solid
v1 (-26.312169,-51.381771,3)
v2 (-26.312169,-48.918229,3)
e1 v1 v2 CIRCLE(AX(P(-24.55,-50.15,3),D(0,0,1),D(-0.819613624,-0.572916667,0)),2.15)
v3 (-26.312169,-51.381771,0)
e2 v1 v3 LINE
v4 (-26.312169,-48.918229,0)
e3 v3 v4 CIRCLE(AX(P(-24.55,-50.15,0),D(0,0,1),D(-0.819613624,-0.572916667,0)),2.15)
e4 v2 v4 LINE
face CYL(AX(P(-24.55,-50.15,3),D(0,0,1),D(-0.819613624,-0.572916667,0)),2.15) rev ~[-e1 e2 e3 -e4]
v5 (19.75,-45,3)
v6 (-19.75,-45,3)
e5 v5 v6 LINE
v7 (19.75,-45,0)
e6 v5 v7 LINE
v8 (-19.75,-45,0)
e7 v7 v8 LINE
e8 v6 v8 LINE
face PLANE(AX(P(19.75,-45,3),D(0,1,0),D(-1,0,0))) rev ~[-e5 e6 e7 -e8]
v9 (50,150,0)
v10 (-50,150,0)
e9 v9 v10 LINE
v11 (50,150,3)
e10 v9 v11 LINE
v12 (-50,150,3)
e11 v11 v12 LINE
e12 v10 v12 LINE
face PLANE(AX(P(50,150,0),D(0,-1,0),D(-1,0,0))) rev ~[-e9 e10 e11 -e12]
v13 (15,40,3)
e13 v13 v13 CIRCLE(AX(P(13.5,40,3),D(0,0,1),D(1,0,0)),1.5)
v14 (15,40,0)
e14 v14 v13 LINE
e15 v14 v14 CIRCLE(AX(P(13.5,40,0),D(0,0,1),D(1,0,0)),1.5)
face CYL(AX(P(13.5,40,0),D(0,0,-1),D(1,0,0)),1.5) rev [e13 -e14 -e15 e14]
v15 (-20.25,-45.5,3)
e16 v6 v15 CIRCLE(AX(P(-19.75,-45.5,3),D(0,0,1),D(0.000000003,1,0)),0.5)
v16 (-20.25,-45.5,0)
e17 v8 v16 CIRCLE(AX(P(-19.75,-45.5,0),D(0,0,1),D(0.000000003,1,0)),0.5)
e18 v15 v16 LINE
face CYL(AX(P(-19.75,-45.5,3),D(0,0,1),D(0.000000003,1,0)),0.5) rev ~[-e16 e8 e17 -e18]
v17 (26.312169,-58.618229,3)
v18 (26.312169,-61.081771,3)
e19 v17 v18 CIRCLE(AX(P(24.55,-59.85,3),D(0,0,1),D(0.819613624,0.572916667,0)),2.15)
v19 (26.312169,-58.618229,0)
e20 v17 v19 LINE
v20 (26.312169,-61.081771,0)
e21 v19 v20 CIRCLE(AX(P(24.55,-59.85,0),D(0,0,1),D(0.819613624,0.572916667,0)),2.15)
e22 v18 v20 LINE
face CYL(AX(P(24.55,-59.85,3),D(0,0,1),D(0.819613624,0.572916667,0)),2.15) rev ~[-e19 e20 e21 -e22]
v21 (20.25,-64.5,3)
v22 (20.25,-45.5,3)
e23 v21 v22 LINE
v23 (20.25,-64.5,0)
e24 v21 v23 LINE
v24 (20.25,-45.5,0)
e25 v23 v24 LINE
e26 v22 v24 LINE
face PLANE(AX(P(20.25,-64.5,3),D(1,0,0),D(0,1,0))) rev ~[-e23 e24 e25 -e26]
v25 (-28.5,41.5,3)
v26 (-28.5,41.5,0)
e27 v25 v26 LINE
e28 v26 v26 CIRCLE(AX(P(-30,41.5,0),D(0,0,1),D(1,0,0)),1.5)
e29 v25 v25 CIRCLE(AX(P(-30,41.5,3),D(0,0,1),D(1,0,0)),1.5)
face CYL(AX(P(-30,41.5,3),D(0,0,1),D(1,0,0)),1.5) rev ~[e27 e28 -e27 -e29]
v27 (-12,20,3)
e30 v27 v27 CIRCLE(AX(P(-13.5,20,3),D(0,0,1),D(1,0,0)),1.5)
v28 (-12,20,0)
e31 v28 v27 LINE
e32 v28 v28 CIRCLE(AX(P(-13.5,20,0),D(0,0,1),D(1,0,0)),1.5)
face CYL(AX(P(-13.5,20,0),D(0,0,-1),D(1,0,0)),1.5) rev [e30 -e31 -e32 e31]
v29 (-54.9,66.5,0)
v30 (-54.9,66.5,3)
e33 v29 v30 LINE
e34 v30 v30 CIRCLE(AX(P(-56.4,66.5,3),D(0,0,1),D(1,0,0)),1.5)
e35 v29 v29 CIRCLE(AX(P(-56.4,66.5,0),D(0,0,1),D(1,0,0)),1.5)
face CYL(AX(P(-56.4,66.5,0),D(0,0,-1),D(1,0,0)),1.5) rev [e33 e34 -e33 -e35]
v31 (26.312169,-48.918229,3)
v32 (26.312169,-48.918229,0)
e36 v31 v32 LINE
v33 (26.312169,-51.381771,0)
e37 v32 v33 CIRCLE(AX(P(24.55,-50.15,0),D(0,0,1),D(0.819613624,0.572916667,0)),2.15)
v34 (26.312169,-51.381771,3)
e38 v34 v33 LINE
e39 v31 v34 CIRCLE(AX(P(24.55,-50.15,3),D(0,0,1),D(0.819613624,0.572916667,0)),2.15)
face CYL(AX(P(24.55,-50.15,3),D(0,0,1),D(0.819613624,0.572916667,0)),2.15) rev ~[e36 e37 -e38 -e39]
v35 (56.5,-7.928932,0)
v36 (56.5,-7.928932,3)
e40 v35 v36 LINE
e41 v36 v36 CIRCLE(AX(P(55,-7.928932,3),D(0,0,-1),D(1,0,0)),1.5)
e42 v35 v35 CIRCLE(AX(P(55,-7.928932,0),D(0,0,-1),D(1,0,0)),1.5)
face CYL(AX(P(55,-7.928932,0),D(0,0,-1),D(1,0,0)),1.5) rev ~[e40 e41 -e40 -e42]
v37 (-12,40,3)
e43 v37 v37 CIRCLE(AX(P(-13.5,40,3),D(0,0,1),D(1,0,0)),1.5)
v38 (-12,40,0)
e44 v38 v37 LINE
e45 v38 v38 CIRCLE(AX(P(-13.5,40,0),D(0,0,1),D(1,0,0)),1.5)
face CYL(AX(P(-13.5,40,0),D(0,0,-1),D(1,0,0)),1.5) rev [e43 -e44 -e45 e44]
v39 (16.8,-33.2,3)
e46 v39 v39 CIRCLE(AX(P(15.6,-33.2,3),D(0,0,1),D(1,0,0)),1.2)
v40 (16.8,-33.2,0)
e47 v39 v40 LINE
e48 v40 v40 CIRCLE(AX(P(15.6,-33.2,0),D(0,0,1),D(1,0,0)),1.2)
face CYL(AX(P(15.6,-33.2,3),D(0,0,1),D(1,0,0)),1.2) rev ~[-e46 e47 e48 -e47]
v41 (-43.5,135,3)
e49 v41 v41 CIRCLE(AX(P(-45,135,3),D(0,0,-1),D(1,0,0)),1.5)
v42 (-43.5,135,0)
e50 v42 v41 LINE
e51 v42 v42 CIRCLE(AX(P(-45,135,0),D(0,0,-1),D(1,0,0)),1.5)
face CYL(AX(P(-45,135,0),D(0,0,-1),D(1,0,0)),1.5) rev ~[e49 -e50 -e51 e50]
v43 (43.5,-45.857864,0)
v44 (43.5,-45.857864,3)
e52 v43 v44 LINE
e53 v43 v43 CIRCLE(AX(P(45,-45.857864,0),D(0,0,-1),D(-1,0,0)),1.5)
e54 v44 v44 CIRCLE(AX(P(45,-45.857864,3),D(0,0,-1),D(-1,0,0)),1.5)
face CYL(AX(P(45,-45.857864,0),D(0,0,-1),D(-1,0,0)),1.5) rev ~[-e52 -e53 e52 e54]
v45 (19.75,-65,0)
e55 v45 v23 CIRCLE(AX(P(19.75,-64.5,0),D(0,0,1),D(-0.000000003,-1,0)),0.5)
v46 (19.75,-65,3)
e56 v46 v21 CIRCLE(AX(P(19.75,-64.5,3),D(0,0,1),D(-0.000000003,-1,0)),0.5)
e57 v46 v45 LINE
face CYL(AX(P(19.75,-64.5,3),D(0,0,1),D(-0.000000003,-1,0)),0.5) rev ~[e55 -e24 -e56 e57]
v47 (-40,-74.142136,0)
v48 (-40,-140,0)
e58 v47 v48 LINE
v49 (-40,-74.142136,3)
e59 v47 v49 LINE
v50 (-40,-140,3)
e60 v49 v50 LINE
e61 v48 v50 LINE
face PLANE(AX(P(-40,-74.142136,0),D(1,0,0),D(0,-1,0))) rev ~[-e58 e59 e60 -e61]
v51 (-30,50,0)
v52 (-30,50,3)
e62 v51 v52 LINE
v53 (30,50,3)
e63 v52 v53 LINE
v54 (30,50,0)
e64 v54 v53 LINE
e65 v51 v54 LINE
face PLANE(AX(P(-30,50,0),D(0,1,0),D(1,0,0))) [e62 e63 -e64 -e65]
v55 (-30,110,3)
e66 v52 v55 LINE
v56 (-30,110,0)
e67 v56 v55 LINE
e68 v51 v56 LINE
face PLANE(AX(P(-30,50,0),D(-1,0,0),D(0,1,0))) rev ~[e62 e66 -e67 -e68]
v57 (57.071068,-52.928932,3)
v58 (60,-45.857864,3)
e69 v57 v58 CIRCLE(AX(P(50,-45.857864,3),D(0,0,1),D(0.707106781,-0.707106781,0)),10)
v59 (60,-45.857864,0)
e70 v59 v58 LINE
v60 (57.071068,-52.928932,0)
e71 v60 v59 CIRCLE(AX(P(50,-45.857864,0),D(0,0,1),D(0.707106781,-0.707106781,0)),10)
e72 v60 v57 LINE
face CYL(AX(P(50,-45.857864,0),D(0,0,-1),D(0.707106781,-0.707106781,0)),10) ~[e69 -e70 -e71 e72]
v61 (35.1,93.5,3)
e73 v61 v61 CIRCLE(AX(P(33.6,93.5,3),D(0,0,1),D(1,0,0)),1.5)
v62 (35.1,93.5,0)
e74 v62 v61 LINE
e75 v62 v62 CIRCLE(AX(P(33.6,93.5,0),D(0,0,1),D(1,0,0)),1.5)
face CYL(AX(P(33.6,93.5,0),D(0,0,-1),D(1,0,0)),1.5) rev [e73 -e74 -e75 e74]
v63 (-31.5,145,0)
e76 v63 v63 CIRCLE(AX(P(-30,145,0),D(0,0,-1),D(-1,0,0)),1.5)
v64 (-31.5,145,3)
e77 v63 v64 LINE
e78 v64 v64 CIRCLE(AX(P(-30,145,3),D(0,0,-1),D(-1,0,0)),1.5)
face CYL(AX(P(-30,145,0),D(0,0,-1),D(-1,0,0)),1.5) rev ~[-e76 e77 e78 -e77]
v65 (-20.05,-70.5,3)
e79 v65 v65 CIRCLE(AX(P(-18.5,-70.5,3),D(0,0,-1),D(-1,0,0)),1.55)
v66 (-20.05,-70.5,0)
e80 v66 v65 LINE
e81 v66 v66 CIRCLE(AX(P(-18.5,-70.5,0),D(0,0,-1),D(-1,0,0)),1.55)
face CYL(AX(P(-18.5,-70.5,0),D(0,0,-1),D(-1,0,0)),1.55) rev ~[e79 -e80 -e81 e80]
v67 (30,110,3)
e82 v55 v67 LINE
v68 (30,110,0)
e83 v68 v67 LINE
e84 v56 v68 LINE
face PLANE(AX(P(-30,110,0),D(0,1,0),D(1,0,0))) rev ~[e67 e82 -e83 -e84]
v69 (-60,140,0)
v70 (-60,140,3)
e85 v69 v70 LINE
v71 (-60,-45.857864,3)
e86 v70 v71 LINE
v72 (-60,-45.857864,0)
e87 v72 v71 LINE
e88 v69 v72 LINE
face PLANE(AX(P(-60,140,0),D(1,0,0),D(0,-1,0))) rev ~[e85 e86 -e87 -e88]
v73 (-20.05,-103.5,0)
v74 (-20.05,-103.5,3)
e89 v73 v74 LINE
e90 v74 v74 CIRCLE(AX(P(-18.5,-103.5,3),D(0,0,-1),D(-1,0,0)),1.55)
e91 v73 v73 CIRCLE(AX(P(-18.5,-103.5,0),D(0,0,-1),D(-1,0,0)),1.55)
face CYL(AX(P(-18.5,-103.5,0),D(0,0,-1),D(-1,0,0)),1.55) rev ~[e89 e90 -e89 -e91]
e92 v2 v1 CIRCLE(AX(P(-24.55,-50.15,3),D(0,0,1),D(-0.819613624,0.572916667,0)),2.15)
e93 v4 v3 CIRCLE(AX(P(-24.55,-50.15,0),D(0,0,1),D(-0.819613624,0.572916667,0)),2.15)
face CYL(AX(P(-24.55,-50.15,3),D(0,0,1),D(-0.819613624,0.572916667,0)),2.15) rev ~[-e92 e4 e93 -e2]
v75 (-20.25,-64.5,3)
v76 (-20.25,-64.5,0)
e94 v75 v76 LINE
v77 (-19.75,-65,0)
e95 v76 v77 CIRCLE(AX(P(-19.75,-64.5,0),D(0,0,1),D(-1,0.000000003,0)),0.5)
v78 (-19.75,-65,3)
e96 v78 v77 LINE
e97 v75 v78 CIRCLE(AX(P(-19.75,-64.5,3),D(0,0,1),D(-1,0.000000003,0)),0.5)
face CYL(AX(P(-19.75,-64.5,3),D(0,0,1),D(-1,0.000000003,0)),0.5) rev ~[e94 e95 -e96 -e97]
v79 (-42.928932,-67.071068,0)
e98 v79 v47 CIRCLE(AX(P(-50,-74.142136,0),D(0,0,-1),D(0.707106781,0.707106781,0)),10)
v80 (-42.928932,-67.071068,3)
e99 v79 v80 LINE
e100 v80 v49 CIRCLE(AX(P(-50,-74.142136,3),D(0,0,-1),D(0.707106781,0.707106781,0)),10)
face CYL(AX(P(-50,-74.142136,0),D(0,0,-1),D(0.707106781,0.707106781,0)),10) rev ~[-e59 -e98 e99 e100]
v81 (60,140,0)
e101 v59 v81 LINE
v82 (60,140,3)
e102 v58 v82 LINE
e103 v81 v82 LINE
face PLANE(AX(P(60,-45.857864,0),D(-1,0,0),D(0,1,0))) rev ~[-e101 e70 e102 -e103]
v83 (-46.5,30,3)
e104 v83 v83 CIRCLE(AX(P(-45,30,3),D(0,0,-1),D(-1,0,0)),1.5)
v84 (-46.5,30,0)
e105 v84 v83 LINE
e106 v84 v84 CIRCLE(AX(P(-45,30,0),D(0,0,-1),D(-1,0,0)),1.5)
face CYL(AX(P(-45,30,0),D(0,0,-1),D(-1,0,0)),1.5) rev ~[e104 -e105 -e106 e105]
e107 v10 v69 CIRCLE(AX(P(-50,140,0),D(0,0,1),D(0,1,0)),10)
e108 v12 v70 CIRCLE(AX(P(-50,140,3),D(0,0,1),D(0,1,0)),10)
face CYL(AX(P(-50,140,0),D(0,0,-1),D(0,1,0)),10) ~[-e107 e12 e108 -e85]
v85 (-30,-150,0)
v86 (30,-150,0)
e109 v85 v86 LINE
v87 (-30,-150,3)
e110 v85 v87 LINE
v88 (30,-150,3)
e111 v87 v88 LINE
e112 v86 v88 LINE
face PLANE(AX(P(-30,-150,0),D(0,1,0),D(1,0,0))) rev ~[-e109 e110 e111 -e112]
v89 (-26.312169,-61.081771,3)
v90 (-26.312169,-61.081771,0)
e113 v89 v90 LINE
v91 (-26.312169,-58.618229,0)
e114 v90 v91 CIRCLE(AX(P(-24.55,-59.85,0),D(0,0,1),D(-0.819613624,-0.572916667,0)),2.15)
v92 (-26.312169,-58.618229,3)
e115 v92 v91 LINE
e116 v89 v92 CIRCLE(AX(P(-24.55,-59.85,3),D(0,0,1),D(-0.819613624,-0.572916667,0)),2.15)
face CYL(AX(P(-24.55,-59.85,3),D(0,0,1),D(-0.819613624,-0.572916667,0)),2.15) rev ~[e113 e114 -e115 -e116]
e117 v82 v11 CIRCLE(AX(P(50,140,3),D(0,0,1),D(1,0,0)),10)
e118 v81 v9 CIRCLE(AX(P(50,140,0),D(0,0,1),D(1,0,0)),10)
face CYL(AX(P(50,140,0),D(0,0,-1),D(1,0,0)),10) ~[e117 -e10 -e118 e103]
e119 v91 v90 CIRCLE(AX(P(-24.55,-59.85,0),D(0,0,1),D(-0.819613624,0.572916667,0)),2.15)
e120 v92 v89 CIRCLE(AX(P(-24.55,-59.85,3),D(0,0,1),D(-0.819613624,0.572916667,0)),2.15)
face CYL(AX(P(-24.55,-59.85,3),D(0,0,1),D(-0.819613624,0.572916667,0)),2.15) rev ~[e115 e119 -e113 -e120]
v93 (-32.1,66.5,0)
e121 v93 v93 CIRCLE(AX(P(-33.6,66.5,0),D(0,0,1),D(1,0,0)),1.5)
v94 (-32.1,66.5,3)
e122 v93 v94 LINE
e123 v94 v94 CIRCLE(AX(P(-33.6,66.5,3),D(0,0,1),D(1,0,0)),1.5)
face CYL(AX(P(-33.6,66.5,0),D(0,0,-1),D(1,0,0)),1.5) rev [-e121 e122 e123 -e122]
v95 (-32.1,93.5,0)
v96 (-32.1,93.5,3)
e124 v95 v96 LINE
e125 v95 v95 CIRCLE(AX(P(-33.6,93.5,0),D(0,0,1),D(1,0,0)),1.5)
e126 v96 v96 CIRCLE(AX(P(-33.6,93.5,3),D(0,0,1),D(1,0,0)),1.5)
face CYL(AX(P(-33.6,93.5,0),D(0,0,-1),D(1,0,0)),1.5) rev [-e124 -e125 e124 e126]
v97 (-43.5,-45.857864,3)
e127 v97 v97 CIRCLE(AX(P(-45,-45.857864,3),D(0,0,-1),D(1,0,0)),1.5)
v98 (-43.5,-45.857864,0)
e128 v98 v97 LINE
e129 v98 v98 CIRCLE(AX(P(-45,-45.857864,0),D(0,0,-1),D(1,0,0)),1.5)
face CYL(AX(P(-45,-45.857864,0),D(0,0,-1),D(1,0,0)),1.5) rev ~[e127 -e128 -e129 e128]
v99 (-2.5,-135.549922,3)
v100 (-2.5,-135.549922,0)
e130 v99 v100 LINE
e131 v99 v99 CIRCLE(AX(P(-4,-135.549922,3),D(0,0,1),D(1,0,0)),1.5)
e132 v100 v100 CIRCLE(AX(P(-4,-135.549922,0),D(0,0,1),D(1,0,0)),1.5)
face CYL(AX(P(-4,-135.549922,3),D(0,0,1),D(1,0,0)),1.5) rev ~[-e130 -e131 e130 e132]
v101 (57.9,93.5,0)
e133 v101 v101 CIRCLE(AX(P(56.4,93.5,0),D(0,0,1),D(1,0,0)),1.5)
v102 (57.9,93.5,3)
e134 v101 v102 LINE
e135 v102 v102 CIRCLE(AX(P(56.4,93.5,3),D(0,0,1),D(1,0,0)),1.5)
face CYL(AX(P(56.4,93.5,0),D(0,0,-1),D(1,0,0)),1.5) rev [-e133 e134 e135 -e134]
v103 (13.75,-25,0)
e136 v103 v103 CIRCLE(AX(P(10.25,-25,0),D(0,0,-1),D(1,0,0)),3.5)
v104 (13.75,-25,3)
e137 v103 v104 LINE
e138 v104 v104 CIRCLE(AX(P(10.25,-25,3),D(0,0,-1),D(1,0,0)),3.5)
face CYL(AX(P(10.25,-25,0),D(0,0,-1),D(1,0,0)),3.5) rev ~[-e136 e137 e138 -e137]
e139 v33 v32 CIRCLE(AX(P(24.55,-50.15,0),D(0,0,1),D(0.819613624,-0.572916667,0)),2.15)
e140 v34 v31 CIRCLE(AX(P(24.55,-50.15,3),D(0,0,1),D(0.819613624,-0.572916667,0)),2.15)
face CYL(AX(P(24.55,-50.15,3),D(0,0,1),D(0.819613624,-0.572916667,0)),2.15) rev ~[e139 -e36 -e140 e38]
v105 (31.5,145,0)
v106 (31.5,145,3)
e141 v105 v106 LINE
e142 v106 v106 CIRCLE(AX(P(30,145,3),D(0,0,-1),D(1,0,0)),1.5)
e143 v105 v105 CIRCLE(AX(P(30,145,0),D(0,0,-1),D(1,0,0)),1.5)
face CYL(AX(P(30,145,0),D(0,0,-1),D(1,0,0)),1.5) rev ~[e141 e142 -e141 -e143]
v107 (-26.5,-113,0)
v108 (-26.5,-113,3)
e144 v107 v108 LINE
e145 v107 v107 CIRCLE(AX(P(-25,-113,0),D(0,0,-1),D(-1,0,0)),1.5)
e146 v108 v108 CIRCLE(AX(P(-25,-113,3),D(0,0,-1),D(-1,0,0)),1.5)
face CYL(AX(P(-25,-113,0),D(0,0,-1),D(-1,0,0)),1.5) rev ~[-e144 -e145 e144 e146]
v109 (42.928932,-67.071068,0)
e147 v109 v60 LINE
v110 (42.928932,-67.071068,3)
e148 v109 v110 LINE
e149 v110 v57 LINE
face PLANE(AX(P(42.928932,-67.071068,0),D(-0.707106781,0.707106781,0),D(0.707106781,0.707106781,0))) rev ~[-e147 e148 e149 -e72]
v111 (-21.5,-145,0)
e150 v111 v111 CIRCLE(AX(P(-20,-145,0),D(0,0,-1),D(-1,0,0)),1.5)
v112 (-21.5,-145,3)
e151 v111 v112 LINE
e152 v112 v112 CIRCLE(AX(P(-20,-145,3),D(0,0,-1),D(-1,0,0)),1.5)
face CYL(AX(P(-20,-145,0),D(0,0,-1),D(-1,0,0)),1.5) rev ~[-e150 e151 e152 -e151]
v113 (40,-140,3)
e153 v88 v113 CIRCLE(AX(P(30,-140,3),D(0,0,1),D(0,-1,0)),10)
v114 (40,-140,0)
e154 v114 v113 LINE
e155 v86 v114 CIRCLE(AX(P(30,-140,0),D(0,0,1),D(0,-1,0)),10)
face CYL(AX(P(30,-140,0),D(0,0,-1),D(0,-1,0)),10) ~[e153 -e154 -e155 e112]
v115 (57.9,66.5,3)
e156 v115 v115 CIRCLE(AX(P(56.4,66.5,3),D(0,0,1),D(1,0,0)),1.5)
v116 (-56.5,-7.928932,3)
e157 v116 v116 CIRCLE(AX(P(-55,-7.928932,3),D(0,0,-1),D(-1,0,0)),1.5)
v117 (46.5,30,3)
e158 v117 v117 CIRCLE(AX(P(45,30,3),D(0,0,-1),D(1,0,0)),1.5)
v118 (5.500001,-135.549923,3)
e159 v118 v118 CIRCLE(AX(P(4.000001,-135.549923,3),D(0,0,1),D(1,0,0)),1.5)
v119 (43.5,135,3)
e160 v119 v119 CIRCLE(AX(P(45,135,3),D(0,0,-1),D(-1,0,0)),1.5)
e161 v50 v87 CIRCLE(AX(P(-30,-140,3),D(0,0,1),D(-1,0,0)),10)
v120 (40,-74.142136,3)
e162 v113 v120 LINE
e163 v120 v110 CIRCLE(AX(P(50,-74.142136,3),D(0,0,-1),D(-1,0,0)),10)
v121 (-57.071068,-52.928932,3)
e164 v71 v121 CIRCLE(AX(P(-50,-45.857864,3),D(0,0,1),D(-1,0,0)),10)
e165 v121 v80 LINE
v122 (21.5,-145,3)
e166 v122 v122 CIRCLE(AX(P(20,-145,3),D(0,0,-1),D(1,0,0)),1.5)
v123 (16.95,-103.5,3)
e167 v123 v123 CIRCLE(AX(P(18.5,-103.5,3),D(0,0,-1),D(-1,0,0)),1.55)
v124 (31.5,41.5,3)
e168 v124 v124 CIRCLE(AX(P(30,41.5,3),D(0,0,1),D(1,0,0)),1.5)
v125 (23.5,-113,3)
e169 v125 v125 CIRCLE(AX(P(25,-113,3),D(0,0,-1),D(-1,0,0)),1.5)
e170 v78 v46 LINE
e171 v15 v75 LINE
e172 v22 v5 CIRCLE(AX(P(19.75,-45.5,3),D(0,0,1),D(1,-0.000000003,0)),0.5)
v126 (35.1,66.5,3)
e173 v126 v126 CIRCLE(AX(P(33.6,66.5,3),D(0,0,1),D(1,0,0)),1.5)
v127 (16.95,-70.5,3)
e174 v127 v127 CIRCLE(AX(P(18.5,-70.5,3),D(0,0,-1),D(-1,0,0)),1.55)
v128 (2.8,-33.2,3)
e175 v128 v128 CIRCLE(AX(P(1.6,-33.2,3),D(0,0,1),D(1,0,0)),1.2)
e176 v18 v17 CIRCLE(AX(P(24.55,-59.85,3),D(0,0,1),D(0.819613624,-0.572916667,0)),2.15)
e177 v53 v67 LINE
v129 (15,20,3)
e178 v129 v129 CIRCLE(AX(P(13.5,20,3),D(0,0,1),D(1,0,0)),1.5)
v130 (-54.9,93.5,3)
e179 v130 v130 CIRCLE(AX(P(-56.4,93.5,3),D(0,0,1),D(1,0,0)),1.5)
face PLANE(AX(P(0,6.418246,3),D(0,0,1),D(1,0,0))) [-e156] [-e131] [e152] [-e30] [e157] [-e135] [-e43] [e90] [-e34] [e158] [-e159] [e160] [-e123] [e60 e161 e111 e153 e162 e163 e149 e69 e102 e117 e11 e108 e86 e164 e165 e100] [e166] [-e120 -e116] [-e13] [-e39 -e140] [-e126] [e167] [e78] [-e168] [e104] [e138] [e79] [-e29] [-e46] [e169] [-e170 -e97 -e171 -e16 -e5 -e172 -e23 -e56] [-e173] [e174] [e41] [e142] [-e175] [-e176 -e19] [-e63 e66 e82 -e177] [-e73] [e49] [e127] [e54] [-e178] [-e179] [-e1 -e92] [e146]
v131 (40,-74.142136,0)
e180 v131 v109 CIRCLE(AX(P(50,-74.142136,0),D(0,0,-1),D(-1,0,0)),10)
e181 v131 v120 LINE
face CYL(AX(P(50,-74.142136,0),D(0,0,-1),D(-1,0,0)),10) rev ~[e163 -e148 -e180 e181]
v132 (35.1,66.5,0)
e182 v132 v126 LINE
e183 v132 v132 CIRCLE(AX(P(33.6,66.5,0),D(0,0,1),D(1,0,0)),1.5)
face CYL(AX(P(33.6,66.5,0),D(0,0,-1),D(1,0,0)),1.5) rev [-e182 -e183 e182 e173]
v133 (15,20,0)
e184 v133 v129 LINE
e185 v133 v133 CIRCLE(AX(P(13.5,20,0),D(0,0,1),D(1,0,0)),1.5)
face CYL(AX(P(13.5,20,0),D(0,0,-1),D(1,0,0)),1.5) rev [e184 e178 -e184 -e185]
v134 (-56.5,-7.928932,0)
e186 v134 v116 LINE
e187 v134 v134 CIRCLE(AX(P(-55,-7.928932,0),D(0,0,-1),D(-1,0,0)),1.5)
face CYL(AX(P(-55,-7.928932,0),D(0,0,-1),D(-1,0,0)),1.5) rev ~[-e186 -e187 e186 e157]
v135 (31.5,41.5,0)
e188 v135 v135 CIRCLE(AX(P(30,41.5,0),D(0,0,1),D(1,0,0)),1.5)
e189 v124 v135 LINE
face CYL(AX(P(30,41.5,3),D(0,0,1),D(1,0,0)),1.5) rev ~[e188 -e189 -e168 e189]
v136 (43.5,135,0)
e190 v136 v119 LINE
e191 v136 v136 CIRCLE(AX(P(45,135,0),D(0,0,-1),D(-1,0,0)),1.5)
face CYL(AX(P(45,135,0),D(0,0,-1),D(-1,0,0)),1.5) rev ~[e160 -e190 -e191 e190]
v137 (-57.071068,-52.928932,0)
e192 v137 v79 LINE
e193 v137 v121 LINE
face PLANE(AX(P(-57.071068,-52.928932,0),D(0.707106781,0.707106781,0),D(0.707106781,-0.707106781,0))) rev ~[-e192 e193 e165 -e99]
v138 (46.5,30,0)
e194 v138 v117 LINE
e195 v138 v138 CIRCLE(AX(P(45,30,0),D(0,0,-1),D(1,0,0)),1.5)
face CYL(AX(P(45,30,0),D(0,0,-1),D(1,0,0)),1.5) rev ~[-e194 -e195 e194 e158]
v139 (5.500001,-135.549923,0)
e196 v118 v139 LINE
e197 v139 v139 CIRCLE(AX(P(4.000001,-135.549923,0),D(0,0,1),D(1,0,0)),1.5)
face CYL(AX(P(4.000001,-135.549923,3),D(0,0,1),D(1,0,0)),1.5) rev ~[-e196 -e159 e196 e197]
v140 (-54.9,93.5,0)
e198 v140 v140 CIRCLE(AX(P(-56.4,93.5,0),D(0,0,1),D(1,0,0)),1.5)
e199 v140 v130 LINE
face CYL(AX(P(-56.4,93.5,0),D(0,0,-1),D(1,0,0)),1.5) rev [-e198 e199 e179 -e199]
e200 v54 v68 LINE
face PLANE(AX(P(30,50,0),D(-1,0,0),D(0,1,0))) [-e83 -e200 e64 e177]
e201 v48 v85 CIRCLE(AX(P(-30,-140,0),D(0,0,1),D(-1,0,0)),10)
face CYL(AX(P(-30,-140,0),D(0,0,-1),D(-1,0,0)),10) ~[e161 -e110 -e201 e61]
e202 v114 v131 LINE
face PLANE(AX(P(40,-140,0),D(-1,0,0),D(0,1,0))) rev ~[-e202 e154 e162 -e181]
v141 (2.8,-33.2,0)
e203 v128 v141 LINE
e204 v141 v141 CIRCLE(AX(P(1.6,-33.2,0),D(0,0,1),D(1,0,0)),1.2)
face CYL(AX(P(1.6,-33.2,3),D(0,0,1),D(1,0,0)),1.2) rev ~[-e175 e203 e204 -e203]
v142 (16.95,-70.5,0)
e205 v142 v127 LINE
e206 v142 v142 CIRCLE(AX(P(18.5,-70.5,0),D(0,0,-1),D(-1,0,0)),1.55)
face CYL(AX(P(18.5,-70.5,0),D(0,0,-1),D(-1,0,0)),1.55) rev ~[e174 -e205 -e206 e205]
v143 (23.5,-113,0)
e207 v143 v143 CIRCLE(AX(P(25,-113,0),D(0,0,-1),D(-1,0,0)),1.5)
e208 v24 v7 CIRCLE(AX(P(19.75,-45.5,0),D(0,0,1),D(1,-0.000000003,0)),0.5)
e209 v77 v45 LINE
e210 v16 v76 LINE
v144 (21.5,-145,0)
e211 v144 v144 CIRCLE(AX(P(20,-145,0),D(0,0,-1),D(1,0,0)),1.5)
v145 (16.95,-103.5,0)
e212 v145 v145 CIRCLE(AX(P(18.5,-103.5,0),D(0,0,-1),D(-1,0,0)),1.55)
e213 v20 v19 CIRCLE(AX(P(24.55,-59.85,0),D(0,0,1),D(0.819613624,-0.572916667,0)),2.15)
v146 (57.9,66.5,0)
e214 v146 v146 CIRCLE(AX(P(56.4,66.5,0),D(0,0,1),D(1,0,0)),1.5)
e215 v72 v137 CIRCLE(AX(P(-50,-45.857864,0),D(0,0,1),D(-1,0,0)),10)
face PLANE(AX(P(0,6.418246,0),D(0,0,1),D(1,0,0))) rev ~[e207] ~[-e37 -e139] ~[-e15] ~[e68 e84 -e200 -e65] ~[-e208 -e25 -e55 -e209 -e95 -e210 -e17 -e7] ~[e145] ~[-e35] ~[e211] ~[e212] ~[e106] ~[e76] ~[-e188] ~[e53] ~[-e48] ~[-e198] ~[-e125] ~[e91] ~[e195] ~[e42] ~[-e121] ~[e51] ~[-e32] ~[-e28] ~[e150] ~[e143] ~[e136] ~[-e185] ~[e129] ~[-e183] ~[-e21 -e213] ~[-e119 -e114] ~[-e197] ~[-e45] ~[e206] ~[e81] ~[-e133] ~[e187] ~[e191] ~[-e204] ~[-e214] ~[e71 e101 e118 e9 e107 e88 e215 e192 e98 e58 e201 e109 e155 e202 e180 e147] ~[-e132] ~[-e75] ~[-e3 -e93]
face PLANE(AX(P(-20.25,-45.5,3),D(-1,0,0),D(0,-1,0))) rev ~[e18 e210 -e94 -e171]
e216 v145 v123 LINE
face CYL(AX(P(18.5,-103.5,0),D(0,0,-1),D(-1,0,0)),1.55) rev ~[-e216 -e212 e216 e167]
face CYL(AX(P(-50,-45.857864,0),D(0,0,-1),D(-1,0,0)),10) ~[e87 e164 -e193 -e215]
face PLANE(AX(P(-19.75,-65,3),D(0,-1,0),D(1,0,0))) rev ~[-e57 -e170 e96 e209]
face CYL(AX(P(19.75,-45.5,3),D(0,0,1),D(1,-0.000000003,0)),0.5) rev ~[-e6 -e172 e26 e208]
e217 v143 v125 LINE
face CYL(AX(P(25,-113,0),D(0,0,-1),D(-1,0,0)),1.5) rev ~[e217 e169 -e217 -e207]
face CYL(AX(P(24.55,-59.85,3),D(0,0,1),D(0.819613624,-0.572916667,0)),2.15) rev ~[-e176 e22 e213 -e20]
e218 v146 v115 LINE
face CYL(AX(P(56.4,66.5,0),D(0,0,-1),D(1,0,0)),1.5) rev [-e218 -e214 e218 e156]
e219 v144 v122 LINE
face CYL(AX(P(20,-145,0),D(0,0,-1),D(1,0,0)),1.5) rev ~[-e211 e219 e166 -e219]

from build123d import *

# Parameters (mm, degrees)
CROQUIS8_R              = 1.5
CROQUIS8_W              = 60
CROQUIS8_H              = 60
SALIENTE_EXTRUIR1_DEPTH = 3
CROQUIS14_R             = 1.5
CORTAR_EXTRUIR5_DEPTH   = 162.582796114
CROQUIS15_R             = 1.5
CORTAR_EXTRUIR6_DEPTH   = 162.582796114
CORTAR_EXTRUIR7_DEPTH   = 23
CROQUIS17_R             = 1.5
CROQUIS17_R_2           = 1.55
CORTAR_EXTRUIR8_DEPTH   = 10
CROQUIS18_R             = 1.2
CORTAR_EXTRUIR9_DEPTH   = 10
CROQUIS19_R             = 1.5
CORTAR_EXTRUIR10_DEPTH  = 10
CROQUIS20_R             = 1.5
CORTAR_EXTRUIR11_DEPTH  = 10
CORTAR_EXTRUIR12_DEPTH  = 10


with BuildPart() as part:
    # Croquis8 → Saliente-Extruir1 (new body)
    with BuildSketch(Plane.XY):
        with BuildLine():
            Line((-30, -150), (30, -150))
            ThreePointArc((30, -150), (37.071067812, -147.071067812), (40, -140))
            Line((40, -140), (40, -74.142135624))
            ThreePointArc((40, -74.142135624), (40.761204675, -70.3153013), (42.928932188, -67.071067812))
            Line((42.928932188, -67.071067812), (57.071067812, -52.928932188))
            ThreePointArc((57.071067812, -52.928932188), (59.238795325, -49.6846987), (60, -45.857864376))
            Line((60, -45.857864376), (60, 140))
            ThreePointArc((60, 140), (57.071067812, 147.071067812), (50, 150))
            Line((50, 150), (-50, 150))
            ThreePointArc((-50, 150), (-57.071067812, 147.071067812), (-60, 140))
            Line((-60, 140), (-60, -45.857864376))
            ThreePointArc((-60, -45.857864376), (-59.238795325, -49.6846987), (-57.071067812, -52.928932188))
            Line((-57.071067812, -52.928932188), (-42.928932188, -67.071067812))
            ThreePointArc((-42.928932188, -67.071067812), (-40.761204675, -70.3153013), (-40, -74.142135624))
            Line((-40, -74.142135624), (-40, -140))
            ThreePointArc((-40, -140), (-37.071067812, -147.071067812), (-30, -150))
        make_face()
        with Locations((33.6, 66.5)):
            Circle(CROQUIS8_R, mode=Mode.SUBTRACT)
        with Locations((56.4, 66.5)):
            Circle(CROQUIS8_R, mode=Mode.SUBTRACT)
        with Locations((56.4, 93.5)):
            Circle(CROQUIS8_R, mode=Mode.SUBTRACT)
        with Locations((33.6, 93.5)):
            Circle(CROQUIS8_R, mode=Mode.SUBTRACT)
        with Locations((13.5, 40)):
            Circle(CROQUIS8_R, mode=Mode.SUBTRACT)
        with Locations((13.5, 20)):
            Circle(CROQUIS8_R, mode=Mode.SUBTRACT)
        with Locations((-13.5, 20)):
            Circle(CROQUIS8_R, mode=Mode.SUBTRACT)
        with Locations((-13.5, 40)):
            Circle(CROQUIS8_R, mode=Mode.SUBTRACT)
        with Locations((-56.4, 66.5)):
            Circle(CROQUIS8_R, mode=Mode.SUBTRACT)
        with Locations((-33.6, 66.5)):
            Circle(CROQUIS8_R, mode=Mode.SUBTRACT)
        with Locations((-33.6, 93.5)):
            Circle(CROQUIS8_R, mode=Mode.SUBTRACT)
        with Locations((-56.4, 93.5)):
            Circle(CROQUIS8_R, mode=Mode.SUBTRACT)
        with Locations((0, 80)):
            Rectangle(CROQUIS8_W, CROQUIS8_H, mode=Mode.SUBTRACT)
    extrude(amount=SALIENTE_EXTRUIR1_DEPTH)

    # Croquis14 → Cortar-Extruir5 (cut, through all)
    with BuildSketch(Plane(origin=(0, 0, 0), x_dir=(-1, 0, 0), z_dir=(0, 0, -1))):
        with Locations(Location((45, 135, 0), (0, 0, 180))):
            Circle(CROQUIS14_R)
        with Locations((-45, 135)):
            Circle(CROQUIS14_R)
        with Locations((-45, -45.857864376)):
            Circle(CROQUIS14_R)
        with Locations(Location((45, -45.857864376, 0), (0, 0, 180))):
            Circle(CROQUIS14_R)
        with Locations((45, 30)):
            Circle(CROQUIS14_R)
        with Locations(Location((-45, 30, 0), (0, 0, 180))):
            Circle(CROQUIS14_R)
    extrude(amount=-CORTAR_EXTRUIR5_DEPTH, mode=Mode.SUBTRACT)

    # Croquis15 → Cortar-Extruir6 (cut, through all)
    with BuildSketch(Plane(origin=(0, 0, 0), x_dir=(-1, 0, 0), z_dir=(0, 0, -1))):
        with Locations((30, 145)):
            Circle(CROQUIS15_R)
        with Locations(Location((-30, 145, 0), (0, 0, 180))):
            Circle(CROQUIS15_R)
        with Locations((20, -145)):
            Circle(CROQUIS15_R)
        with Locations(Location((-20, -145, 0), (0, 0, 180))):
            Circle(CROQUIS15_R)
        with Locations((55, -7.928932188)):
            Circle(CROQUIS15_R)
        with Locations(Location((-55, -7.928932188, 0), (0, 0, 180))):
            Circle(CROQUIS15_R)
    extrude(amount=-CORTAR_EXTRUIR6_DEPTH, mode=Mode.SUBTRACT)

    # Croquis16 → Cortar-Extruir7 (cut)
    with BuildSketch(Plane.XY.offset(3)):
        with BuildLine():
            Line((20.25, -64.5), (20.25, -55.5))
            Line((20.25, -55.5), (20.25, -54.5))
            Line((20.25, -54.5), (20.25, -45.5))
            ThreePointArc((20.25, -45.5), (20.103553391, -45.146446609), (19.75, -45))
            Line((19.75, -45), (-19.75, -45))
            ThreePointArc((-19.75, -45), (-20.103553391, -45.146446609), (-20.25, -45.5))
            Line((-20.25, -45.5), (-20.25, -54.5))
            Line((-20.25, -54.5), (-20.25, -55.5))
            Line((-20.25, -55.5), (-20.25, -64.5))
            ThreePointArc((-20.25, -64.5), (-20.103553391, -64.853553391), (-19.75, -65))
            Line((-19.75, -65), (19.75, -65))
            ThreePointArc((19.75, -65), (20.103553391, -64.853553391), (20.25, -64.5))
        make_face()
    extrude(amount=-CORTAR_EXTRUIR7_DEPTH, mode=Mode.SUBTRACT)

    # Croquis17 → Cortar-Extruir8 (cut)
    with BuildSketch(Plane(origin=(0, 0, 0), x_dir=(-1, 0, 0), z_dir=(0, 0, -1))):
        with Locations((-25, -113)):
            Circle(CROQUIS17_R)
        with Locations((25, -113)):
            Circle(CROQUIS17_R)
        with Locations((-18.5, -70.5)):
            Circle(CROQUIS17_R_2)
        with Locations((18.5, -70.5)):
            Circle(CROQUIS17_R_2)
        with Locations((-18.5, -103.5)):
            Circle(CROQUIS17_R_2)
        with Locations((18.5, -103.5)):
            Circle(CROQUIS17_R_2)
        with BuildLine():
            ThreePointArc((-6.75, -25), (-10.25, -21.5), (-13.75, -25))
            ThreePointArc((-13.75, -25), (-10.25, -28.5), (-6.75, -25))
        make_face()
    extrude(amount=-CORTAR_EXTRUIR8_DEPTH, mode=Mode.SUBTRACT)

    # Croquis18 → Cortar-Extruir9 (cut)
    with BuildSketch(Plane.XY.offset(3)):
        with Locations((1.6, -33.2)):
            Circle(CROQUIS18_R)
        with Locations((15.6, -33.2)):
            Circle(CROQUIS18_R)
    extrude(amount=-CORTAR_EXTRUIR9_DEPTH, mode=Mode.SUBTRACT)

    # Croquis19 → Cortar-Extruir10 (cut)
    with BuildSketch(Plane.XY.offset(3)):
        with Locations((-4, -135.549922457)):
            Circle(CROQUIS19_R)
        with Locations((4.000000635, -135.549923318)):
            Circle(CROQUIS19_R)
    extrude(amount=-CORTAR_EXTRUIR10_DEPTH, mode=Mode.SUBTRACT)

    # Croquis20 → Cortar-Extruir11 (cut)
    with BuildSketch(Plane.XY.offset(3)):
        with Locations((-30, 41.5)):
            Circle(CROQUIS20_R)
        with Locations((30, 41.5)):
            Circle(CROQUIS20_R)
    extrude(amount=-CORTAR_EXTRUIR11_DEPTH, mode=Mode.SUBTRACT)

    # Croquis22 → Cortar-Extruir12 (cut)
    with BuildSketch(Plane.XY.offset(3)):
        with BuildLine():
            ThreePointArc((26.312169292, -48.918229167), (22.4, -50.15), (26.312169292, -51.381770833))
            ThreePointArc((26.312169292, -51.381770833), (26.7, -50.15), (26.312169292, -48.918229167))
        make_face()
        with BuildLine():
            ThreePointArc((26.312169292, -58.618229167), (22.4, -59.85), (26.312169292, -61.081770833))
            ThreePointArc((26.312169292, -61.081770833), (26.7, -59.85), (26.312169292, -58.618229167))
        make_face()
        with BuildLine():
            ThreePointArc((-26.312169292, -61.081770833), (-22.4, -59.85), (-26.312169292, -58.618229167))
            ThreePointArc((-26.312169292, -58.618229167), (-26.7, -59.85), (-26.312169292, -61.081770833))
        make_face()
        with BuildLine():
            ThreePointArc((-26.312169292, -51.381770833), (-22.4, -50.15), (-26.312169292, -48.918229167))
            ThreePointArc((-26.312169292, -48.918229167), (-26.7, -50.15), (-26.312169292, -51.381770833))
        make_face()
    extrude(amount=-CORTAR_EXTRUIR12_DEPTH, mode=Mode.SUBTRACT)


solid = part.part
